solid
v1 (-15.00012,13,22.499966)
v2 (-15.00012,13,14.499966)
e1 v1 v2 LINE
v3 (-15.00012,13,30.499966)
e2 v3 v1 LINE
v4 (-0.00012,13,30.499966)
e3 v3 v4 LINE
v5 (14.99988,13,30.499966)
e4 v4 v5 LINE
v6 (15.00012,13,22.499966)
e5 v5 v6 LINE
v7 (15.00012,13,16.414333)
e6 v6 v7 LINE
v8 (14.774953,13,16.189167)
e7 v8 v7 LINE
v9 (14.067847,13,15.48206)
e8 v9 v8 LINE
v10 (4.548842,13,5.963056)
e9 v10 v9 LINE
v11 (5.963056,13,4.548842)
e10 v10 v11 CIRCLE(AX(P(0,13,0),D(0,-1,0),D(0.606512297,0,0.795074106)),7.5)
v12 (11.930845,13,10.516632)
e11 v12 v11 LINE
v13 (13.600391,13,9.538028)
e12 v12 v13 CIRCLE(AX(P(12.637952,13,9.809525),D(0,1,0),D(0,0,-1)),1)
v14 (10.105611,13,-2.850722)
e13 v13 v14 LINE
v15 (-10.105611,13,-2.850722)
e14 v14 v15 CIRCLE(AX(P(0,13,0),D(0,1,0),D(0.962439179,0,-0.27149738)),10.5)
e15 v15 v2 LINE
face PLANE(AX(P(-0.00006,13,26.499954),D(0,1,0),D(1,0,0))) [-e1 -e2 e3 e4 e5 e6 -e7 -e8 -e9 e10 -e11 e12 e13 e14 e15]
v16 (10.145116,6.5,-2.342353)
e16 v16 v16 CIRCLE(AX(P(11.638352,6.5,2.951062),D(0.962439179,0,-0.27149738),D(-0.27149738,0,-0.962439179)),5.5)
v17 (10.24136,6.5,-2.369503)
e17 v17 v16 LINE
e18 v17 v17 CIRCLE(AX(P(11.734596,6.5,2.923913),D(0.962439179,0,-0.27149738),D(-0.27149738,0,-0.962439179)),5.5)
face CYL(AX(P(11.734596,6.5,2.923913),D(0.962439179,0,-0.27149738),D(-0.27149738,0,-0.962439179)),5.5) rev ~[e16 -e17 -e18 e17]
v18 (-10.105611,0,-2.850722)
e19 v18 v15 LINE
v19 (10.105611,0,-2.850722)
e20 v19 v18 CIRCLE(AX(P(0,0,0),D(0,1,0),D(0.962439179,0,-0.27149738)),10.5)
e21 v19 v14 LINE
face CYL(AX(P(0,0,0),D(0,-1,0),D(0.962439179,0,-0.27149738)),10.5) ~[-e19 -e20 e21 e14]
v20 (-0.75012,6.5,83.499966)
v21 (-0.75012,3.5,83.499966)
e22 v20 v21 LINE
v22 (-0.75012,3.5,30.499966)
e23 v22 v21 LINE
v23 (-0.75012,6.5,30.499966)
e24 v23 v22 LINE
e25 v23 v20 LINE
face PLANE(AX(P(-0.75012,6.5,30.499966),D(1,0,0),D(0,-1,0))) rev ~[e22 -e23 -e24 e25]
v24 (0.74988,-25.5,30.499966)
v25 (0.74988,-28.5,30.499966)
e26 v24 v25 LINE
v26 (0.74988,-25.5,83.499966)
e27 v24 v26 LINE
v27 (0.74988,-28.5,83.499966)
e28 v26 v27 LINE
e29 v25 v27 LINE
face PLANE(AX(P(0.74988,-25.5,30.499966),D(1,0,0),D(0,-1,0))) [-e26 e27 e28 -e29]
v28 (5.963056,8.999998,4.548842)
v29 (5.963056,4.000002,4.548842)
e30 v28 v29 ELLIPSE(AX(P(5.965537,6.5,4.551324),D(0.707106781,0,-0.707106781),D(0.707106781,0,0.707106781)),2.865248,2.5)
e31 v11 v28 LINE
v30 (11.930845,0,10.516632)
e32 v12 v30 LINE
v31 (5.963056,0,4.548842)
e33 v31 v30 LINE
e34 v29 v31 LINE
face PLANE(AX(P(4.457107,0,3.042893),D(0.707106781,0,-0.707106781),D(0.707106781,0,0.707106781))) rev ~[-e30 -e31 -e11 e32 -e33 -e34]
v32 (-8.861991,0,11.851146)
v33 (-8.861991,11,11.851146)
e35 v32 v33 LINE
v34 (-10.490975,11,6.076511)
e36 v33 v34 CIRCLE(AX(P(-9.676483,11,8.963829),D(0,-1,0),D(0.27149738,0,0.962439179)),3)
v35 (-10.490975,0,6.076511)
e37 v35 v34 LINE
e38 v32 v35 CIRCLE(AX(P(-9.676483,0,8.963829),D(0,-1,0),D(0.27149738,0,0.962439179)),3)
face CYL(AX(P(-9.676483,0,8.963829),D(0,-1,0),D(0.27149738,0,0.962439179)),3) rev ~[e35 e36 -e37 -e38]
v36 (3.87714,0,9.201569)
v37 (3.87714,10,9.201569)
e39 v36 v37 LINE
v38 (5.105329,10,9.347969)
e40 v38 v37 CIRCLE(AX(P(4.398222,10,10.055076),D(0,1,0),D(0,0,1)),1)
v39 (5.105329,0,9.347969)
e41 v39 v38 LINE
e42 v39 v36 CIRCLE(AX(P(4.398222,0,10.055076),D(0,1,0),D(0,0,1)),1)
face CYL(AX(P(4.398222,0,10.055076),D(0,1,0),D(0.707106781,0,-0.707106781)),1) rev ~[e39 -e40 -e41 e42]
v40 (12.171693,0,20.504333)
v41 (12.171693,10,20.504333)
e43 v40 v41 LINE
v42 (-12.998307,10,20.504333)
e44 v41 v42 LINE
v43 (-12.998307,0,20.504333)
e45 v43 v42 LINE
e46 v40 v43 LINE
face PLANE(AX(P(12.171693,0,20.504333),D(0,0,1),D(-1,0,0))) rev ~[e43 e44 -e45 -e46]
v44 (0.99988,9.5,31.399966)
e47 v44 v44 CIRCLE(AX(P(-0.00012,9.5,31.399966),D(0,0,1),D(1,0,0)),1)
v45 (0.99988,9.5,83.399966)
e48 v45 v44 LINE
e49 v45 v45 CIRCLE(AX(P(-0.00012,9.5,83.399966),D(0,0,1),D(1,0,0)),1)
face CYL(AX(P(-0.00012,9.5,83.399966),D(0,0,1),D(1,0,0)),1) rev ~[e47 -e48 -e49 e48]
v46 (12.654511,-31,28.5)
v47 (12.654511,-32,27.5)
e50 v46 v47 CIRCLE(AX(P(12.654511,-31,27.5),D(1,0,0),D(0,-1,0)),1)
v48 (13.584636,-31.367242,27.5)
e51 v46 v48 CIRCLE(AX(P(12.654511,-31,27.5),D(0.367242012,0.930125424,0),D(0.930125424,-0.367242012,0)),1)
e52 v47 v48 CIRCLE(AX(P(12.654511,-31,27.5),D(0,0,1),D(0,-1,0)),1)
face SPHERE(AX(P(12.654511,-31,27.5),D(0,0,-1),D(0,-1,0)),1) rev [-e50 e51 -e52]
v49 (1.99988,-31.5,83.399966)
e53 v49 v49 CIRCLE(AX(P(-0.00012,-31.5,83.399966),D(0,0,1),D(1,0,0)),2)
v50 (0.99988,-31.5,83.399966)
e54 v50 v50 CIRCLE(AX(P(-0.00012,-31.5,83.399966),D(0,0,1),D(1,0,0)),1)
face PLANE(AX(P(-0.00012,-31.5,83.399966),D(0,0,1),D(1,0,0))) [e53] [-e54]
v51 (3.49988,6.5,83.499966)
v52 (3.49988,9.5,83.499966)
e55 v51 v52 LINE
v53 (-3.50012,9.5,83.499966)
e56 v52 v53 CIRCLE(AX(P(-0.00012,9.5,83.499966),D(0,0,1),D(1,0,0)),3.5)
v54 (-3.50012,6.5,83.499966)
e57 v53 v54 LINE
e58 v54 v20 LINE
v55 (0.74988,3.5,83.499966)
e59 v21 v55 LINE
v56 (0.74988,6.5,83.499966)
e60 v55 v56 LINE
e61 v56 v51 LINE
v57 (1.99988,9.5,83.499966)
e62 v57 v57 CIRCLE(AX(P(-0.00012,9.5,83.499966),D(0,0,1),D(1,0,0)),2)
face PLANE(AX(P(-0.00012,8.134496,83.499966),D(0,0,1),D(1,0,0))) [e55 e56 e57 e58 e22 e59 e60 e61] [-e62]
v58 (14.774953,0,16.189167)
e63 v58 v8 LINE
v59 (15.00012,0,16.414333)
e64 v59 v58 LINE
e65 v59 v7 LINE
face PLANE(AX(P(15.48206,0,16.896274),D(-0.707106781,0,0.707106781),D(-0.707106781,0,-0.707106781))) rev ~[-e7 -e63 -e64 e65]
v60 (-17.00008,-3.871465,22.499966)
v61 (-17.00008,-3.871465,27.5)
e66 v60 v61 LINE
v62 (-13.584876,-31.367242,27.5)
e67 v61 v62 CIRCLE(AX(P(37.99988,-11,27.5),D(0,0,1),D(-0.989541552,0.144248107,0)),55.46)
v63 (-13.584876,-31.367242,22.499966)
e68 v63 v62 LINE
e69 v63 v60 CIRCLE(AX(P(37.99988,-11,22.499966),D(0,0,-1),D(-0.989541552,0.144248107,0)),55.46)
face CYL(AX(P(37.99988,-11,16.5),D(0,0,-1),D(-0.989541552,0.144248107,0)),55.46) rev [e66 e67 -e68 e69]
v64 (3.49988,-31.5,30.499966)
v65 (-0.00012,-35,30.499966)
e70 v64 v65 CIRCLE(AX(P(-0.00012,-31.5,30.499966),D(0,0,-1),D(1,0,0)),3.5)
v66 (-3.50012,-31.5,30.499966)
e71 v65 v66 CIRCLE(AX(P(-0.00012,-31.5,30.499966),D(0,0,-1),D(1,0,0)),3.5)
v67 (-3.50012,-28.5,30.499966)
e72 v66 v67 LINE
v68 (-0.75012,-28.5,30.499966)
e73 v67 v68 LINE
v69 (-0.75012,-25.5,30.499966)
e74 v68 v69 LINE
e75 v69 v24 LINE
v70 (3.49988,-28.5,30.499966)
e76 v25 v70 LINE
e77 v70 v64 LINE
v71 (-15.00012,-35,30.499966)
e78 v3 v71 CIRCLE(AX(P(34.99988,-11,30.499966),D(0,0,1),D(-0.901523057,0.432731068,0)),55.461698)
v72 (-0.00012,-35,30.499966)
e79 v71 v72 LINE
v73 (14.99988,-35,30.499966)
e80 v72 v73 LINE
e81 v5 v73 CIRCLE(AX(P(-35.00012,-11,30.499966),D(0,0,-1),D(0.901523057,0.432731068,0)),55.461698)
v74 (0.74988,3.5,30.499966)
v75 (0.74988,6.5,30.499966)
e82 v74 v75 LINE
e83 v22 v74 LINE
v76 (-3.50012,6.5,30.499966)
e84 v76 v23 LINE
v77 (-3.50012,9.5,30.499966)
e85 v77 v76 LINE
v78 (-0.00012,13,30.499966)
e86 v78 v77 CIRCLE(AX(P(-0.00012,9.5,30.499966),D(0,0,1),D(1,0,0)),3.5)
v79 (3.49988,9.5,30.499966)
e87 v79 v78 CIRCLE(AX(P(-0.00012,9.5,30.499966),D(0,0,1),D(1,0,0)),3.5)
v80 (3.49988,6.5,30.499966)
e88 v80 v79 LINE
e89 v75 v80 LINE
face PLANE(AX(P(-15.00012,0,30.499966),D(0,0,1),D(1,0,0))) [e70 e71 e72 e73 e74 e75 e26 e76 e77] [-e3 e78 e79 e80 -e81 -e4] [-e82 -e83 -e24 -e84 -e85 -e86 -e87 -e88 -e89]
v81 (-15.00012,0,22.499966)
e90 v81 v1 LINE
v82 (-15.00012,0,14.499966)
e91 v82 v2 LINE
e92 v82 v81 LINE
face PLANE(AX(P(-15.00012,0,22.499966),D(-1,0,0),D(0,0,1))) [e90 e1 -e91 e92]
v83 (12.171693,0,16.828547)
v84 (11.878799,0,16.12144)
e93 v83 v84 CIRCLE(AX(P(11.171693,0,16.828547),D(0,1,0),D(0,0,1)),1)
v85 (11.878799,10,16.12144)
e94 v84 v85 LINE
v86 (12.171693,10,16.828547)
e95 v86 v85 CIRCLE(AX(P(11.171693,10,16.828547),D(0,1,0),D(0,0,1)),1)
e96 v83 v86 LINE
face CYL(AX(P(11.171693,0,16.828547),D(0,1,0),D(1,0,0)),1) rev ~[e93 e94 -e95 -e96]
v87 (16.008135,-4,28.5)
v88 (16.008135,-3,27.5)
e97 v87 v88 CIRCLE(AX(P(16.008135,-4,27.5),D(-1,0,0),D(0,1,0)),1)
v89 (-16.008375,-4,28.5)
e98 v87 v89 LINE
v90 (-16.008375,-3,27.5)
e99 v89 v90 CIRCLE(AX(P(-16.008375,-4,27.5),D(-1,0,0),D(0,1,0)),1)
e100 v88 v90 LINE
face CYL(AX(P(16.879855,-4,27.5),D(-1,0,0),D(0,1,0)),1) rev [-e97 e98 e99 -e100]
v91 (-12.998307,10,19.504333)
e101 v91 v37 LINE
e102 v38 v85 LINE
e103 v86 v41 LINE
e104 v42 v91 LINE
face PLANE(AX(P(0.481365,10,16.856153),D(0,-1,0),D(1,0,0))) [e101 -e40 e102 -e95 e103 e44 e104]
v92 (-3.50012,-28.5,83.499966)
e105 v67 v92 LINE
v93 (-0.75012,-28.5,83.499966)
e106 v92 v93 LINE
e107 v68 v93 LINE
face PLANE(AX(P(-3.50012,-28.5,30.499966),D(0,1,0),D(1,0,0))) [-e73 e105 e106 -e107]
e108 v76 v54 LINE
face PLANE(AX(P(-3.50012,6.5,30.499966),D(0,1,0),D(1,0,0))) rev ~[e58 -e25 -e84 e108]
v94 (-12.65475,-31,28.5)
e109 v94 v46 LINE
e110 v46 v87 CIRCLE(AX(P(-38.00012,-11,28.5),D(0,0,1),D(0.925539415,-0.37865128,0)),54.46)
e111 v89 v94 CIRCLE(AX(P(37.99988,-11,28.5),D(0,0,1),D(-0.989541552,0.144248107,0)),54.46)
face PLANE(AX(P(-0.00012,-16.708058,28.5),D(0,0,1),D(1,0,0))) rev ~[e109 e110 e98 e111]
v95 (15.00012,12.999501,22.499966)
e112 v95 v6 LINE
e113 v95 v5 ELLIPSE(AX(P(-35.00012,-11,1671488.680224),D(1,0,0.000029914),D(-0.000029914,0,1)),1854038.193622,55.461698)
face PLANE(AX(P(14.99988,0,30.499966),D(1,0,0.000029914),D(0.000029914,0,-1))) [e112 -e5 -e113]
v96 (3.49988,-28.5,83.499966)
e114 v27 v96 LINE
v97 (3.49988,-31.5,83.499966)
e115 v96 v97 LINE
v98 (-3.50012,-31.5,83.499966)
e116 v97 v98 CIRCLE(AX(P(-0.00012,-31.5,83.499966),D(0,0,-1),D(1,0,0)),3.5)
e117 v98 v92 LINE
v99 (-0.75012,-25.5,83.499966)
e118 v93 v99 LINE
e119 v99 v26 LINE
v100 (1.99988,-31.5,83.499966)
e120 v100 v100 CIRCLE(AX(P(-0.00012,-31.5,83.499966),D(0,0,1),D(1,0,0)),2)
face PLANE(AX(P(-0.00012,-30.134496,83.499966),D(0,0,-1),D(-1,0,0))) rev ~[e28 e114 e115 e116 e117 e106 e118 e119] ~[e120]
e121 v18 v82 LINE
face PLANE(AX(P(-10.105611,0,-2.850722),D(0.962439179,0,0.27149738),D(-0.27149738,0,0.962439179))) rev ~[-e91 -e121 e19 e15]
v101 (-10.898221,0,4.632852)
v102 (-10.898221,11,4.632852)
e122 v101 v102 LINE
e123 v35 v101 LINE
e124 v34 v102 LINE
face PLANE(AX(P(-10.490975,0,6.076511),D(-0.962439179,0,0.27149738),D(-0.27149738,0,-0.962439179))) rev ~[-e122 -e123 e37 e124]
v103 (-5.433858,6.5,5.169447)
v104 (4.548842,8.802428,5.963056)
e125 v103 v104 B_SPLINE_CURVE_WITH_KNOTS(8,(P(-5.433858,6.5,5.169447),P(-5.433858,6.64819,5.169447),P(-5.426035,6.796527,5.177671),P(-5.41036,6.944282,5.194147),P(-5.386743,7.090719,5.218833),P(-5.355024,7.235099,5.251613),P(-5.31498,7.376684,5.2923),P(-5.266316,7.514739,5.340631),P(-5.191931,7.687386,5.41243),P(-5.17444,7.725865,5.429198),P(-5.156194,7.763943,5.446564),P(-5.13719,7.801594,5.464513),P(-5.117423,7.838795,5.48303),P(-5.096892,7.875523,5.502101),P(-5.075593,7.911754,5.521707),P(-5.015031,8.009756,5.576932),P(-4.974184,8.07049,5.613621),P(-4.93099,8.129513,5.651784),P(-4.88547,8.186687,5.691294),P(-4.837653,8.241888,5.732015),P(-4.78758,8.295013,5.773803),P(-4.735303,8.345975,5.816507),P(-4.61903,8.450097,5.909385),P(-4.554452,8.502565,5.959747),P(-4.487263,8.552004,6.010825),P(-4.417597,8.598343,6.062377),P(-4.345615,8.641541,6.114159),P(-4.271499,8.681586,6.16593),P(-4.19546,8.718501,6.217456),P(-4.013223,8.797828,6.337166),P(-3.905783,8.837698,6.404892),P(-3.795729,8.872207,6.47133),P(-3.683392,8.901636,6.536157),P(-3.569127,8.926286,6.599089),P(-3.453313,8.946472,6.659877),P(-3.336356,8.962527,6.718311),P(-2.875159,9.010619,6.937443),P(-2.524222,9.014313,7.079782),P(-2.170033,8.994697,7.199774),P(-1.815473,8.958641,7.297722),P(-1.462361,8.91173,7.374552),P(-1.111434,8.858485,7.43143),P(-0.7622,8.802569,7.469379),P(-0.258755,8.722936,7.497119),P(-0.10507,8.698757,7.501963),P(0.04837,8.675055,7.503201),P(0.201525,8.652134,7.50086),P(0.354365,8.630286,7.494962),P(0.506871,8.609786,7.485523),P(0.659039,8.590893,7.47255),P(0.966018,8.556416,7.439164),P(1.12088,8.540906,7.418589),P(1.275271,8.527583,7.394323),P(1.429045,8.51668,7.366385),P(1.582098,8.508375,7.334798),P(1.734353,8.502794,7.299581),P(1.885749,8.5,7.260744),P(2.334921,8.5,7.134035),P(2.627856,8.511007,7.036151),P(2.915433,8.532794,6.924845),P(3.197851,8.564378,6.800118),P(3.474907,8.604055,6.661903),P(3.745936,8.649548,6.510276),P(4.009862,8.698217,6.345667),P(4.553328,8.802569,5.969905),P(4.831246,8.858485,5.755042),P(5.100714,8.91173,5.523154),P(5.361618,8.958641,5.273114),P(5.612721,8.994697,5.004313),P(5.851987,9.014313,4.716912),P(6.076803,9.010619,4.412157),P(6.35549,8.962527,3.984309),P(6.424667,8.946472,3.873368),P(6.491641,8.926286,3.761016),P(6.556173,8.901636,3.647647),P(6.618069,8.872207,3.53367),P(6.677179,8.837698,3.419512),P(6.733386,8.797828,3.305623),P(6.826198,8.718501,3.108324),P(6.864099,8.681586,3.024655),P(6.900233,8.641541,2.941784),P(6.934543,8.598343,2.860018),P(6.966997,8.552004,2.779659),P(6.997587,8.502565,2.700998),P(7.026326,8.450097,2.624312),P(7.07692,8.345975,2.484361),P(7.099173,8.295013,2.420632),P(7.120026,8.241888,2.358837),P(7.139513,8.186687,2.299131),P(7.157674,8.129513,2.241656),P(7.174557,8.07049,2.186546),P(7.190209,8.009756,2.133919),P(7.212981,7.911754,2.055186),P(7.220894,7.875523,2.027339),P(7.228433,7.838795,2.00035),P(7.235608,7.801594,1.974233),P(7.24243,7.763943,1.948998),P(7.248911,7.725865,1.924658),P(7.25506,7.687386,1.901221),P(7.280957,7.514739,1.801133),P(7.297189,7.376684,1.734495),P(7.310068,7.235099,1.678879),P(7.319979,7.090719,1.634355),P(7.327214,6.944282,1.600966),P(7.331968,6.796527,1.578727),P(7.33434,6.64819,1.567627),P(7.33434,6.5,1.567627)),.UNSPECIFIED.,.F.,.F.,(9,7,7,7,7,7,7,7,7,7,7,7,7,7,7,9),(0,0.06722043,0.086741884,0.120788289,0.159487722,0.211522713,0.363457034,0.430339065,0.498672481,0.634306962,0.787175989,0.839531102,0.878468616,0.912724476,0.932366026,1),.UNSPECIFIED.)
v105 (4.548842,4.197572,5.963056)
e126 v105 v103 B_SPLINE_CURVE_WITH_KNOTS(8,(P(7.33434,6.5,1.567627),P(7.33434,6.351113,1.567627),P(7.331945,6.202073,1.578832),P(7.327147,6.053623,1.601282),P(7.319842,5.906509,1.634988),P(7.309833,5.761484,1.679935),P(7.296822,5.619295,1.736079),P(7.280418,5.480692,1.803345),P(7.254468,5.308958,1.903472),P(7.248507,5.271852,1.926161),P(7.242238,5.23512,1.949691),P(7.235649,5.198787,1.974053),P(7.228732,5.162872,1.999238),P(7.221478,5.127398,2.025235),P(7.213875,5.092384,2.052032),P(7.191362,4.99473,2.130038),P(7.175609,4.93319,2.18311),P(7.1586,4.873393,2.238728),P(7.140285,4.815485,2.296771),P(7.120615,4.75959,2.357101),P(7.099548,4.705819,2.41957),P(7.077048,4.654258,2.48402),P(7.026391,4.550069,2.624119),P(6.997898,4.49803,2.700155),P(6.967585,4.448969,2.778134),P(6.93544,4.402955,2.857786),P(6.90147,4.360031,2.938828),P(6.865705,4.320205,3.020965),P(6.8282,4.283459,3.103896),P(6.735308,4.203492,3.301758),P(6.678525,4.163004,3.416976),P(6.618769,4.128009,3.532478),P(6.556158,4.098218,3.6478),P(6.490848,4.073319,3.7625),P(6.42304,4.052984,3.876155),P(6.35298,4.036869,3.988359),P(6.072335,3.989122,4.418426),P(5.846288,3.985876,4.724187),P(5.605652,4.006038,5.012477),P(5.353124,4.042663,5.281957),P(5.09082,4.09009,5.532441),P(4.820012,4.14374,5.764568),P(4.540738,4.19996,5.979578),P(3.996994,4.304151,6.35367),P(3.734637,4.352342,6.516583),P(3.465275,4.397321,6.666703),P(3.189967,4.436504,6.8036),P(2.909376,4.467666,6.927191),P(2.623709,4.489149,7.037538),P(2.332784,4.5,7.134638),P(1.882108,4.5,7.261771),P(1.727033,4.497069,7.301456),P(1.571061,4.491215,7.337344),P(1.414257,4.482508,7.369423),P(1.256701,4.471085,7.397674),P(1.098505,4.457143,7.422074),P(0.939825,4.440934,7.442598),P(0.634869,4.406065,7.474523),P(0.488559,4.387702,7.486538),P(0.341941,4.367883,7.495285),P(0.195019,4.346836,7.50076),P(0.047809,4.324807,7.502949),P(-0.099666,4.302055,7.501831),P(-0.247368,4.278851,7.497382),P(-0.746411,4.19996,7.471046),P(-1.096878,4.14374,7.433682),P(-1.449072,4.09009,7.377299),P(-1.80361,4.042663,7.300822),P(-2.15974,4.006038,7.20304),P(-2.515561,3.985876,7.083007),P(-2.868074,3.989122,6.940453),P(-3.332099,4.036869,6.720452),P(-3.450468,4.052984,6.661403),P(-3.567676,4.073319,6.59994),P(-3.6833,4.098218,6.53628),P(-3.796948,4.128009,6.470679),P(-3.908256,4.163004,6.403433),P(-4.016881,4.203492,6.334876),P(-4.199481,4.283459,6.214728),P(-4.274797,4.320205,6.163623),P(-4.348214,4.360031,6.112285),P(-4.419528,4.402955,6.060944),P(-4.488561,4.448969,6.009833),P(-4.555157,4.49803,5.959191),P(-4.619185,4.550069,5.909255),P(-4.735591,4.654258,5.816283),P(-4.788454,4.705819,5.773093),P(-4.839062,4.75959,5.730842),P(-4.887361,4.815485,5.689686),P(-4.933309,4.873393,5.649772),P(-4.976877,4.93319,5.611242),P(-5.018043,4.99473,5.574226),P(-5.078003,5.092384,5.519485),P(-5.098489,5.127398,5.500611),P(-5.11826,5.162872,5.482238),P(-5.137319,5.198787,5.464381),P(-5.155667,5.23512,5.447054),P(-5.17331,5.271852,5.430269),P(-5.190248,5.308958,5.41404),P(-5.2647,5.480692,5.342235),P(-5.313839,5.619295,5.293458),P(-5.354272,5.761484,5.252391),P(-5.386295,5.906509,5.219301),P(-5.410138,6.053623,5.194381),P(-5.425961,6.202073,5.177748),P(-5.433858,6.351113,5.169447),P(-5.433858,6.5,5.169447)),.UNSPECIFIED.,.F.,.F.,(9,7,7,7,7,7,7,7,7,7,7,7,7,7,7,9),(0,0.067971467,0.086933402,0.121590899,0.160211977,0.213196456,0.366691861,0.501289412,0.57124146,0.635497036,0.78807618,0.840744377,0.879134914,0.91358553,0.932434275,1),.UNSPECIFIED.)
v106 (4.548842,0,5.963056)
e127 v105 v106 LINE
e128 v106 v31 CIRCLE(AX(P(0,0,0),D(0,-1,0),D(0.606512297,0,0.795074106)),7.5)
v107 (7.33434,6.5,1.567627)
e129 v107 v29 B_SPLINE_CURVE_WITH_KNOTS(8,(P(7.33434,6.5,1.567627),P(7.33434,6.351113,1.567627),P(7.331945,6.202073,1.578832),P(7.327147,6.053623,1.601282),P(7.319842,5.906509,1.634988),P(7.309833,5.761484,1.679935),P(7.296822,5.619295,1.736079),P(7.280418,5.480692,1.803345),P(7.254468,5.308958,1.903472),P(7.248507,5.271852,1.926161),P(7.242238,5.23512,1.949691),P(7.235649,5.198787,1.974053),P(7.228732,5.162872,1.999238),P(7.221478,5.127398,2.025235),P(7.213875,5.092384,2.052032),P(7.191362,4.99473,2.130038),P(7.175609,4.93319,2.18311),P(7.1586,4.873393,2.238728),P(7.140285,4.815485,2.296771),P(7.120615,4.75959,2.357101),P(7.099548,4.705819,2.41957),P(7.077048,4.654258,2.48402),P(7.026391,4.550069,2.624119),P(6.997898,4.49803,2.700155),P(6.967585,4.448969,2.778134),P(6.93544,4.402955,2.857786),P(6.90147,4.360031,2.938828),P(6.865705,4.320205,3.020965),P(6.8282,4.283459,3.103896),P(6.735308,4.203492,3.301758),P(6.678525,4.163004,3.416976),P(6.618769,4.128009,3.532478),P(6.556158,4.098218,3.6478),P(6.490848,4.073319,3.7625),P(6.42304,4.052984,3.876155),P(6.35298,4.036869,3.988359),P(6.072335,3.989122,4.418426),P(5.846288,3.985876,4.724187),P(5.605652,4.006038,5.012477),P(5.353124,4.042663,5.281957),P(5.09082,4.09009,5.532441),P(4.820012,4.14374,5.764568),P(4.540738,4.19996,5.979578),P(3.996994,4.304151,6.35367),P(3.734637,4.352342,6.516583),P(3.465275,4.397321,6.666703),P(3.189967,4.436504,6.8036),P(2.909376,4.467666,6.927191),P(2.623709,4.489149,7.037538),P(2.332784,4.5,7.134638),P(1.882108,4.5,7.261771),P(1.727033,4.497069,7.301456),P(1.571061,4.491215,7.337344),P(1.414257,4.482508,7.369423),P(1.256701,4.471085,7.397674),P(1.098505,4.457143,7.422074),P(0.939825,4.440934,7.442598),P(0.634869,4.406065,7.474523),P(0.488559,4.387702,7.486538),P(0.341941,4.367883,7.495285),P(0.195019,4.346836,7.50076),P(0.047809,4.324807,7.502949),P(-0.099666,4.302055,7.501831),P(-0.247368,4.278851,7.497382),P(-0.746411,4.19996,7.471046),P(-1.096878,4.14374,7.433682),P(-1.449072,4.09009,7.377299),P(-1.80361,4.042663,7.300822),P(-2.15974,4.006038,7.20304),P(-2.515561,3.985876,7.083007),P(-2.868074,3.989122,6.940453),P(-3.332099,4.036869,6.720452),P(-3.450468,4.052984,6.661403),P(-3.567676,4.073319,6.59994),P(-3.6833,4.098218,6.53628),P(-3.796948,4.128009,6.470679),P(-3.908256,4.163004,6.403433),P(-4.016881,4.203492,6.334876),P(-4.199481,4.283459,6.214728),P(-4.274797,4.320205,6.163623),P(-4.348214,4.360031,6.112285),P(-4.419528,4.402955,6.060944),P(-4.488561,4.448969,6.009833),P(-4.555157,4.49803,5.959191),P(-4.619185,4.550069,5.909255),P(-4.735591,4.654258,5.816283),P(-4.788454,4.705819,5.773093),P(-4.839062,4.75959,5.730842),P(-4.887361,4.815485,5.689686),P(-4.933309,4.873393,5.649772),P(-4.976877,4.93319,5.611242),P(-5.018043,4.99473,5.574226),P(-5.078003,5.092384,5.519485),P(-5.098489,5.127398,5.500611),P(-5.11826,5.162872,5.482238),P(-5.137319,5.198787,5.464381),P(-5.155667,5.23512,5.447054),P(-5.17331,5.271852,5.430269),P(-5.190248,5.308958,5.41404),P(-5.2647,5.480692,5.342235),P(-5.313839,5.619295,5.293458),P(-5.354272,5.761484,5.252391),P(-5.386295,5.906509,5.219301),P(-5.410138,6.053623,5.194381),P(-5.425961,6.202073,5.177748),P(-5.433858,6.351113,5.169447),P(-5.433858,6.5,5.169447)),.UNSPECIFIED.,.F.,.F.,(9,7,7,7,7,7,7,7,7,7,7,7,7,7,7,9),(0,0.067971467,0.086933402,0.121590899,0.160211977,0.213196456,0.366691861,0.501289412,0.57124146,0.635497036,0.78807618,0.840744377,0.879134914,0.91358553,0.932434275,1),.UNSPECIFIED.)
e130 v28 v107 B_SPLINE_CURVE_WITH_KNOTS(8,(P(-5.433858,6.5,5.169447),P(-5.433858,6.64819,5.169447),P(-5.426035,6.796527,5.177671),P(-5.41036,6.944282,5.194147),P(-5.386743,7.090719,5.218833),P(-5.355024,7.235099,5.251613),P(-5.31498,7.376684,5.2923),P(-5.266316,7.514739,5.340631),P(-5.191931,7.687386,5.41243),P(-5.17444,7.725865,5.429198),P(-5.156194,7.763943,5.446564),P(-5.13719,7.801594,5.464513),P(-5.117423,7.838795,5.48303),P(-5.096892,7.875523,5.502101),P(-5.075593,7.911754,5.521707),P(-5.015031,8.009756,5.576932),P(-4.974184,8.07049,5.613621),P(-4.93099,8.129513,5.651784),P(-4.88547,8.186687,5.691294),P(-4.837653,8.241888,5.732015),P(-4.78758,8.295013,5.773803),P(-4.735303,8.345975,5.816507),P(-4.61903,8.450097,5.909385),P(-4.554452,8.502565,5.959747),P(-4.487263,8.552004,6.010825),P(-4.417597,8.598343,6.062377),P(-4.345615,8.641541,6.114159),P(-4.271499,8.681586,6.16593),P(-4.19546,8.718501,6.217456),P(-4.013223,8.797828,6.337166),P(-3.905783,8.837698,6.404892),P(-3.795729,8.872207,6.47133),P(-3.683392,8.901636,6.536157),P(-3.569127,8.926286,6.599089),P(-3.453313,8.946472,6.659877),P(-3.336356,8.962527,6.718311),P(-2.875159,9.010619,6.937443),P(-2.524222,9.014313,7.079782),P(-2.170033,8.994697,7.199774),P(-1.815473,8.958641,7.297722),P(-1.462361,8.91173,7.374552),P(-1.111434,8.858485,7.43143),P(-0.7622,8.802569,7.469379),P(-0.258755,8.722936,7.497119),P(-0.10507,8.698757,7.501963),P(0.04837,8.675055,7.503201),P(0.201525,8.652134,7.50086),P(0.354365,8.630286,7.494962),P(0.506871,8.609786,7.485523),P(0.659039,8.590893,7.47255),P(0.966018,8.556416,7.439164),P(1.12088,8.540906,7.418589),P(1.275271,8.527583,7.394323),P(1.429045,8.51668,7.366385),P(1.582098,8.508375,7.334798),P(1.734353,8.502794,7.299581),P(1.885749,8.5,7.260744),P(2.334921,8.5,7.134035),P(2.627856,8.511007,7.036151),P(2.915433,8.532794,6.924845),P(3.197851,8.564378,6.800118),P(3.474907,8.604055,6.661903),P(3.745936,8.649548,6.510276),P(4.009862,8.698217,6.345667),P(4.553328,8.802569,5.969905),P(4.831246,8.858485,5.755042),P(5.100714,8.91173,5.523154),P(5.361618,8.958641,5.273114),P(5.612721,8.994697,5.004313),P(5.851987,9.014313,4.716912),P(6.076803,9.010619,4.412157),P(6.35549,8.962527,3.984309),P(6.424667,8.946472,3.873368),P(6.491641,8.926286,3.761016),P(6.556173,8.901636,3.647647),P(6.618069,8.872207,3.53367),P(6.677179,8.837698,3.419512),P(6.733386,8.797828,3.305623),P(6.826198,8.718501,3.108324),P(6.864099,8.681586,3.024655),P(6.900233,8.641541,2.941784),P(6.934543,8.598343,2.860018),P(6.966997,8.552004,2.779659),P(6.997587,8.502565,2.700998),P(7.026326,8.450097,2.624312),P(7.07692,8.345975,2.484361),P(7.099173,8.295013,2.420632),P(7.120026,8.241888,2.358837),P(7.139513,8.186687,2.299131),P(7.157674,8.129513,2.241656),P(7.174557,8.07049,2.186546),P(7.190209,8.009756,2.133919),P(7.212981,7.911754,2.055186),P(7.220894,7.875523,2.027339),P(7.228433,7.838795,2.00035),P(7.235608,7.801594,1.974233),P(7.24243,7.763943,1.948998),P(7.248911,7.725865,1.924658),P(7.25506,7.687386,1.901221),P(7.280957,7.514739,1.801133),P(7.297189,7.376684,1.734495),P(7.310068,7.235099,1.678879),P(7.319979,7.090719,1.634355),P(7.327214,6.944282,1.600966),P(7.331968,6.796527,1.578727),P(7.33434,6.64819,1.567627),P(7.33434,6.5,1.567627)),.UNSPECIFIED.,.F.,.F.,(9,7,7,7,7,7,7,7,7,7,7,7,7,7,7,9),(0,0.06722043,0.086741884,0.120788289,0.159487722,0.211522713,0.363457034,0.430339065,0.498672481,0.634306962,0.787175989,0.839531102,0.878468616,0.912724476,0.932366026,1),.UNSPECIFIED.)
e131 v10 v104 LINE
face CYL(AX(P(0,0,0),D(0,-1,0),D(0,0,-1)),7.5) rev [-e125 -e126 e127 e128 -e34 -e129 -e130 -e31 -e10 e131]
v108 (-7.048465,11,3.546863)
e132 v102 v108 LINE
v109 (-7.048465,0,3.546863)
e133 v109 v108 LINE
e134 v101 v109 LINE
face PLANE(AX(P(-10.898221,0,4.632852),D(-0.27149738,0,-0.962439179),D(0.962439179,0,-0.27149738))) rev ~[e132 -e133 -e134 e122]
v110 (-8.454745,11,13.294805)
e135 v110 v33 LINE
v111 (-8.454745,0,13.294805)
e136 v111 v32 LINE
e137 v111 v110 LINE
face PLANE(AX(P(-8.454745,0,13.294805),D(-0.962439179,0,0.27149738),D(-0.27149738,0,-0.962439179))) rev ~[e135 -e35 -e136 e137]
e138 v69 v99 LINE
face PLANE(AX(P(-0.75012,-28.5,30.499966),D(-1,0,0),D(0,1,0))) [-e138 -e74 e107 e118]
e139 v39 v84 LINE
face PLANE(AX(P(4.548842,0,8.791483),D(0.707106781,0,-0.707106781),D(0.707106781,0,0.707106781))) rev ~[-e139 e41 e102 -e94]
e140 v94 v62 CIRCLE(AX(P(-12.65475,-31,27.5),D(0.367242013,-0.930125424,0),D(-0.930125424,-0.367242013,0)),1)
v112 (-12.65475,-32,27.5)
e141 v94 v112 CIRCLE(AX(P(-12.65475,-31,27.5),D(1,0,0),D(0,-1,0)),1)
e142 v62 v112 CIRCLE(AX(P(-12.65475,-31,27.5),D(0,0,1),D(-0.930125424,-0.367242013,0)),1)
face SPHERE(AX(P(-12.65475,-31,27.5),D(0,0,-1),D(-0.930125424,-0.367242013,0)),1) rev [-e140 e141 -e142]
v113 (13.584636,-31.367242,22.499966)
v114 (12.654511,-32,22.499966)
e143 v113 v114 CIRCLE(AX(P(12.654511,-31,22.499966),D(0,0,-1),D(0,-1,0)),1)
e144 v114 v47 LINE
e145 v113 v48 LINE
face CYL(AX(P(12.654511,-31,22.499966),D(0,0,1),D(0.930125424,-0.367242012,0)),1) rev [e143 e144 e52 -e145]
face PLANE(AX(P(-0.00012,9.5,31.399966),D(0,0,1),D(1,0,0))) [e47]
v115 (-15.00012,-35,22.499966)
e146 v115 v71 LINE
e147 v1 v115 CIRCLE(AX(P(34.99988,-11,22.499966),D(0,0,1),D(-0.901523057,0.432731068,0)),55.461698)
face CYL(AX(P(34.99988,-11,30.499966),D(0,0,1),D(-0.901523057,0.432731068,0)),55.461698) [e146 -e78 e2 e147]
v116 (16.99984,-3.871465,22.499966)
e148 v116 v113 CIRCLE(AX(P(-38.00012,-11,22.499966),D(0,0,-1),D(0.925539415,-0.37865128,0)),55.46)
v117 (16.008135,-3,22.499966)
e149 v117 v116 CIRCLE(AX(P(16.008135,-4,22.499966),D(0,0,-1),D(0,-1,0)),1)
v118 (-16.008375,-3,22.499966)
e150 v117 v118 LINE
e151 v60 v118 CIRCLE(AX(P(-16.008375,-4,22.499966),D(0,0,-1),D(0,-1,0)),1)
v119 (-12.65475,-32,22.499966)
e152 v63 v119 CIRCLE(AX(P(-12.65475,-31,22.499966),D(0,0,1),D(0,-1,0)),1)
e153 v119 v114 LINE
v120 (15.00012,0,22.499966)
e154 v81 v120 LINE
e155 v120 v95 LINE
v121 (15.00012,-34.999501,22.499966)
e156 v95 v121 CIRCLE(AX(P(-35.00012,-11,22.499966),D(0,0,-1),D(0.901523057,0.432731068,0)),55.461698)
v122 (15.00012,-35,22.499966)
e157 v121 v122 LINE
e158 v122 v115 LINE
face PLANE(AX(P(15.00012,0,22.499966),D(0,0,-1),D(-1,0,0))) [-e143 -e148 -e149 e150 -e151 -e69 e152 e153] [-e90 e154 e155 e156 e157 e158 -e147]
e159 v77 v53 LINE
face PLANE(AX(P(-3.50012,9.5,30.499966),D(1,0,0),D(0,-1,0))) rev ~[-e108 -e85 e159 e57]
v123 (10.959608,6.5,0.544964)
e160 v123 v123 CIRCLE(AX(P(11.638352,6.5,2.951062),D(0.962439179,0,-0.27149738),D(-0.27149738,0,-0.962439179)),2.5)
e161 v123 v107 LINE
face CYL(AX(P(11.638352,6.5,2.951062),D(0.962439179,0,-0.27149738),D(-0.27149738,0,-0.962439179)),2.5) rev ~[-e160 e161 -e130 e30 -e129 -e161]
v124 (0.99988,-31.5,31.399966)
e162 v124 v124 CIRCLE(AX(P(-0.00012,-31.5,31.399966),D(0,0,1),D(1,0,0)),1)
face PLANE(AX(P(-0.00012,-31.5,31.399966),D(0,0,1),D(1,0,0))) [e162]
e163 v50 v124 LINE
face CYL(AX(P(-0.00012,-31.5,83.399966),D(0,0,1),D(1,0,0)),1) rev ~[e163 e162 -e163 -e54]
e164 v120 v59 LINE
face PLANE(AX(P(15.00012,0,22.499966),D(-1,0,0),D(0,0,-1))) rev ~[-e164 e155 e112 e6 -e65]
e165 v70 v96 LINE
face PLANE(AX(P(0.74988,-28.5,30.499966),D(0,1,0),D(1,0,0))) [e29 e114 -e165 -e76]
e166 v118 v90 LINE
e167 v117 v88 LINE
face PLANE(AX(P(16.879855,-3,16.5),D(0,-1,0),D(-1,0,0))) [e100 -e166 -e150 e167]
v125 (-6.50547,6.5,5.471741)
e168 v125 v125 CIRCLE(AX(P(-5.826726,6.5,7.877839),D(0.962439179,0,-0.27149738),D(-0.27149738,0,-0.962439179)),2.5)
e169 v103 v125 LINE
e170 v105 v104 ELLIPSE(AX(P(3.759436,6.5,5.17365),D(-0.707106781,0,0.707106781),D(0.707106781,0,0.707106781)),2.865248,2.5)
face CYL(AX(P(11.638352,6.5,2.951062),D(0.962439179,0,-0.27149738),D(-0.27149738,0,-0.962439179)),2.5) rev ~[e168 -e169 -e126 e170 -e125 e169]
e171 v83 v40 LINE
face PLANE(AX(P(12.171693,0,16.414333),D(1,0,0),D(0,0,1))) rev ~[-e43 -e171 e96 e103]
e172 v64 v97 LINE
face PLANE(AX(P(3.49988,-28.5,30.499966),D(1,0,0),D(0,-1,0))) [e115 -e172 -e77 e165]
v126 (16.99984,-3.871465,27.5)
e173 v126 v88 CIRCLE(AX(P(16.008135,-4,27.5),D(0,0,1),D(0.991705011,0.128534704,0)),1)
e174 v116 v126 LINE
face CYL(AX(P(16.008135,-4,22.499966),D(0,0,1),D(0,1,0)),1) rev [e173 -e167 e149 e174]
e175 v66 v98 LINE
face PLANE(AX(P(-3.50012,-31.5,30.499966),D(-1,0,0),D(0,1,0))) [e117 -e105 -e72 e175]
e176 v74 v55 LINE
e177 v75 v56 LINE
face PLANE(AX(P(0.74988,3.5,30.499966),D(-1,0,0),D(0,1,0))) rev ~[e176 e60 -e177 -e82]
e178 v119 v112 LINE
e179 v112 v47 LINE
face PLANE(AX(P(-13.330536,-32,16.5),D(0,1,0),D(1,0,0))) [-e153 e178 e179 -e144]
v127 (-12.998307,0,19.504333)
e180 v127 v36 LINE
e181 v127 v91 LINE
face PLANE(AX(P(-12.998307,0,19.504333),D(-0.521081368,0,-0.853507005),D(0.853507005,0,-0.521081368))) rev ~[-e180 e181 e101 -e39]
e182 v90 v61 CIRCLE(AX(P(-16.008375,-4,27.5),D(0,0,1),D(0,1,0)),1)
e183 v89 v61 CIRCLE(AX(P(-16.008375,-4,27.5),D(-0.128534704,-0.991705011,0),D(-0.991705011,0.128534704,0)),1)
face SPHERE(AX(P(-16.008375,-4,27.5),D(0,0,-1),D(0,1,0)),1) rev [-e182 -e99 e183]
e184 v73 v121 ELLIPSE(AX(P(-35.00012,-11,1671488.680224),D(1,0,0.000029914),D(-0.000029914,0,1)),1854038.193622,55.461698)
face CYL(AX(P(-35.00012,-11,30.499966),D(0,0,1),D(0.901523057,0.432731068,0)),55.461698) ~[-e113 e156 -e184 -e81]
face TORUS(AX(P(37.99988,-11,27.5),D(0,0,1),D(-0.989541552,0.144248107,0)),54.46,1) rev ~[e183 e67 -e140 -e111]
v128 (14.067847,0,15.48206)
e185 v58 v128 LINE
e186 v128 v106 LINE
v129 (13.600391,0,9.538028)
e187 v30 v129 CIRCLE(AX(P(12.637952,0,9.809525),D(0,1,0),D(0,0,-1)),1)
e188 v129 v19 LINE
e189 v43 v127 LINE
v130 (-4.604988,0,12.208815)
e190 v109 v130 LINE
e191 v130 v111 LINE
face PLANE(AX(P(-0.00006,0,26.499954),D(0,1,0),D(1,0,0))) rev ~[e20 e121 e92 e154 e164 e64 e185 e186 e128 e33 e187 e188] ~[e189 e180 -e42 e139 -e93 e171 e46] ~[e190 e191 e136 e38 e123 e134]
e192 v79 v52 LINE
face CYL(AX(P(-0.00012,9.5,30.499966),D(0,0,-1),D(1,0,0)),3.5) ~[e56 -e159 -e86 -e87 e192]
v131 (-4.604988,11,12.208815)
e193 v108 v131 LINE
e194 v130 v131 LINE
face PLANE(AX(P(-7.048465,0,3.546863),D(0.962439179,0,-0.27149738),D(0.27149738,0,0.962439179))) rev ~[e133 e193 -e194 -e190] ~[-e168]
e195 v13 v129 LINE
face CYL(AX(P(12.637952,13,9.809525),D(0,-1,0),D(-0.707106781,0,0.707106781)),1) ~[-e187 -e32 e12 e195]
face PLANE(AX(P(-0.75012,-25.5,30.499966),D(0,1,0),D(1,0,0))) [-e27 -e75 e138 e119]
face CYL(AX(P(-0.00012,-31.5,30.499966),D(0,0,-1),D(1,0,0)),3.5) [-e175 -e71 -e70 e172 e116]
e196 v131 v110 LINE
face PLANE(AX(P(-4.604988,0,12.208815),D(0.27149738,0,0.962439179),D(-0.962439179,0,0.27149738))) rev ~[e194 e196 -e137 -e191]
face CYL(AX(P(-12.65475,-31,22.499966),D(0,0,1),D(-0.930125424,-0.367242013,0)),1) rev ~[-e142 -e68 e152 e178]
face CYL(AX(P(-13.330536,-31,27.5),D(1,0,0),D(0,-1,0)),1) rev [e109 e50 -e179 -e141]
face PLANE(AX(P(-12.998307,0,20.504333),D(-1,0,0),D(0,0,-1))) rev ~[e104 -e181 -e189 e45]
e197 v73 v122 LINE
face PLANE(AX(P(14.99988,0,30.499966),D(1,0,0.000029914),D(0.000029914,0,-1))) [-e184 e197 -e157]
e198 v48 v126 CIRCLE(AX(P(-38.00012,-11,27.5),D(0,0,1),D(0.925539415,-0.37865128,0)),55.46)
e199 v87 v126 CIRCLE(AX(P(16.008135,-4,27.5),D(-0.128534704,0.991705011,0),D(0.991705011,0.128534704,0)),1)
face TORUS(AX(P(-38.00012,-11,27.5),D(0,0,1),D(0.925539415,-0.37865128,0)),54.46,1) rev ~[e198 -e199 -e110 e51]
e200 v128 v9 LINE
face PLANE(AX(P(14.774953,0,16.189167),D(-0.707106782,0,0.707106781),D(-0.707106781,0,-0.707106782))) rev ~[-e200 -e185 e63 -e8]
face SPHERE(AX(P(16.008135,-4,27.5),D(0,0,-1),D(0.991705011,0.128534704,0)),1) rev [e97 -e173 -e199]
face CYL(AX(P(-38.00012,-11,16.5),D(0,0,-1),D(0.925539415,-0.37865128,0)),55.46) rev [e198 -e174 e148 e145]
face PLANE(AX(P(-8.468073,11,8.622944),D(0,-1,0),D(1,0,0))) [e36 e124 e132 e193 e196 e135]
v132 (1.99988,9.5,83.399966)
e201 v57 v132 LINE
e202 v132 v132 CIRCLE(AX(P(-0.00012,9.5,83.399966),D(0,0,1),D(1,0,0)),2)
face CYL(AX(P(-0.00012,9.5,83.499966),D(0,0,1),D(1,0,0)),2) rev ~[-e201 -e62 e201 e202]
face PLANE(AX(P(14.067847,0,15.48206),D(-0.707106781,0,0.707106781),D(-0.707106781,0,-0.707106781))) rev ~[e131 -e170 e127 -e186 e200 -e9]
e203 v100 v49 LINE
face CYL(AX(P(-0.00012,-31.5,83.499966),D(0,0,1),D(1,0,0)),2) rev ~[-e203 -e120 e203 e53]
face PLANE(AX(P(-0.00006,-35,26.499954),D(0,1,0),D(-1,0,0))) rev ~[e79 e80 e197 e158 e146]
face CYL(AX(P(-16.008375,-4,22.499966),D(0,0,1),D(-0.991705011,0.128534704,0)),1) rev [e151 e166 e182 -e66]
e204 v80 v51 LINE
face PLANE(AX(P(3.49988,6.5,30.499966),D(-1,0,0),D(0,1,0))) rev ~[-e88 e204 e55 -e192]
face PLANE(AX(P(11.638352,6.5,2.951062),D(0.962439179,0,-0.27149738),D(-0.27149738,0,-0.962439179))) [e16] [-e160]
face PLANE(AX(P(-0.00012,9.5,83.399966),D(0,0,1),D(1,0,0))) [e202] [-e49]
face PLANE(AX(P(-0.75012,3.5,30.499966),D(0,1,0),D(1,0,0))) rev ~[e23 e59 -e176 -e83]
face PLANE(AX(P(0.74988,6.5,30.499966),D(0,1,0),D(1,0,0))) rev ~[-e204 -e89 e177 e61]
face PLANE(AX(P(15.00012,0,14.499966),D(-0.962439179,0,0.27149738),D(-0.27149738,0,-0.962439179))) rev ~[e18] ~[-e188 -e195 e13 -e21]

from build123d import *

# Parameters (mm, degrees)
SKETCH1_R               = 7.5
BOSS_EXTRUDE1_DEPTH     = 13
BOSS_EXTRUDE2_DEPTH     = 13
BOSS_EXTRUDE3_DEPTH     = 35
BOSS_EXTRUDE4_DEPTH     = 8
CUT_EXTRUDE3_DEPTH      = 6
CUT_EXTRUDE3_DEPTH_BACK = 6
BOSS_EXTRUDE5_DEPTH     = 53
SKETCH11_R              = 2
CUT_EXTRUDE4_DEPTH      = 0.1
SKETCH12_R              = 1
CUT_EXTRUDE5_DEPTH      = 52
SKETCH16_R              = 5.5
CUT_EXTRUDE8_DEPTH      = 0.1
SKETCH17_R              = 2.5
CUT_EXTRUDE9_DEPTH      = 20.1
CUT_EXTRUDE10_DEPTH     = 11
CUT_EXTRUDE11_DEPTH     = 25
CUT_EXTRUDE12_DEPTH     = 10
FILLET1_R               = 1


with BuildPart() as part:
    # Sketch1 → Boss-Extrude1 (new body)
    with BuildSketch(Plane(origin=(0, 0, 0), x_dir=(1, 0, 0), z_dir=(0, 1, 0))):
        with BuildLine():
            Line((-15.000119656, -22.499966246), (15.000119656, -22.499966246))
            Line((15.000119656, -22.499966246), (15.000119656, -14.499966246))
            Line((15.000119656, -14.499966246), (10.105611377, 2.850722488))
            ThreePointArc((10.105611377, 2.850722488), (0, 10.5), (-10.105611377, 2.850722488))
            Line((-10.105611377, 2.850722488), (-15.000119656, -14.499966246))
            Line((-15.000119656, -14.499966246), (-15.000119656, -22.499966246))
        make_face()
        with Locations(Location((0, 0, 0), (0, 0, 90))):
            Circle(SKETCH1_R, mode=Mode.SUBTRACT)
    extrude(amount=BOSS_EXTRUDE1_DEPTH)

    # Sketch2 → Boss-Extrude2 (add)
    with BuildSketch(Plane(origin=(0, 0, 0), x_dir=(1, 0, 0), z_dir=(0, 1, 0))):
        Polygon((-15.000119656, -22.499966246), (-15.000119656, -30.499966246), (14.999880344, -30.499966246), (15.000119656, -22.499966246), align=None)
    extrude(amount=BOSS_EXTRUDE2_DEPTH)

    # Sketch3 → Boss-Extrude3 (add)
    with BuildSketch(Plane.XZ):
        Polygon((-15.000119656, 30.499966246), (14.999880344, 30.499966246), (15.000119656, 22.499966246), (-15.000119656, 22.499966246), align=None)
    extrude(amount=BOSS_EXTRUDE3_DEPTH)

    # Sketch4 → Boss-Extrude4 (add)
    with BuildSketch(Plane.XY.offset(30.499966246)):
        with BuildLine():
            Line((14.999880344, -35), (14.999880344, 13))
            ThreePointArc((14.999880344, 13), (20.461578839, -11), (14.999880344, -35))
        make_face()
        with BuildLine():
            Line((-15.000119656, -35), (-15.000119656, 13))
            ThreePointArc((-15.000119656, 13), (-20.461818151, -11), (-15.000119656, -35))
        make_face()
    extrude(amount=-BOSS_EXTRUDE4_DEPTH)

    # Sketch9 → Cut-Extrude3 (cut, two sides: drawn at the far end of the back side and taken through both)
    with BuildSketch(Plane.XY.offset(22.5).offset(-CUT_EXTRUDE3_DEPTH_BACK)):
        with BuildLine():
            Line((-13.33053559, -32), (11.997996308, -32))
            Line((11.997996308, -32), (13.330296278, -32))
            ThreePointArc((13.330296278, -32), (17.049056164, -17.737940448), (16.879854834, -3))
            Line((16.879854834, -3), (15, -3))
            Line((15, -3), (-16.880094146, -3))
            ThreePointArc((-16.880094146, -3), (-17.049295477, -17.737940448), (-13.33053559, -32))
        make_face()
    extrude(amount=CUT_EXTRUDE3_DEPTH + CUT_EXTRUDE3_DEPTH_BACK, mode=Mode.SUBTRACT)

    # Sketch10 → Boss-Extrude5 (add)
    with BuildSketch(Plane.XY.offset(30.499966246)):
        with BuildLine():
            Line((-3.500119656, -28.5), (-0.750119656, -28.5))
            Line((-0.750119656, -28.5), (-0.750119656, -25.5))
            Line((-0.750119656, -25.5), (-0.000119656, -25.5))
            Line((-0.000119656, -25.5), (0.749880344, -25.5))
            Line((0.749880344, -25.5), (0.749880344, -28.5))
            Line((0.749880344, -28.5), (3.499880344, -28.5))
            Line((3.499880344, -28.5), (3.499880344, -31.5))
            ThreePointArc((3.499880344, -31.5), (-0.000119656, -35), (-3.500119656, -31.5))
            Line((-3.500119656, -31.5), (-3.500119656, -28.5))
        make_face()
        with BuildLine():
            Line((0.749880344, 6.5), (3.499880344, 6.5))
            Line((3.499880344, 6.5), (3.499880344, 9.5))
            ThreePointArc((3.499880344, 9.5), (-0.000119656, 13), (-3.500119656, 9.5))
            Line((-3.500119656, 9.5), (-3.500119656, 6.5))
            Line((-3.500119656, 6.5), (-0.750119656, 6.5))
            Line((-0.750119656, 6.5), (-0.750119656, 3.5))
            Line((-0.750119656, 3.5), (-0.000119656, 3.5))
            Line((-0.000119656, 3.5), (0.749880344, 3.5))
            Line((0.749880344, 3.5), (0.749880344, 6.5))
        make_face()
    extrude(amount=BOSS_EXTRUDE5_DEPTH)

    # Sketch11 → Cut-Extrude4 (cut)
    with BuildSketch(Plane.XY.offset(83.499966246)):
        with Locations((-0.000119656, -31.5)):
            Circle(SKETCH11_R)
        with Locations((-0.000119656, 9.5)):
            Circle(SKETCH11_R)
    extrude(amount=-CUT_EXTRUDE4_DEPTH, mode=Mode.SUBTRACT)

    # Sketch12 → Cut-Extrude5 (cut)
    with BuildSketch(Plane.XY.offset(83.399966246)):
        with Locations((-0.000119656, -31.5)):
            Circle(SKETCH12_R)
        with Locations((-0.000119656, 9.5)):
            Circle(SKETCH12_R)
    extrude(amount=-CUT_EXTRUDE5_DEPTH, mode=Mode.SUBTRACT)

    # Sketch16 → Cut-Extrude8 (cut)
    with BuildSketch(Plane(origin=(10.105611377, 0, -2.850722488), x_dir=(-0.27149737978458055, 0, -0.9624391787381202), z_dir=(0.9624391787381201, 0, -0.2714973797845805))):
        with Locations((-6, 6.5)):
            Circle(SKETCH16_R)
    extrude(amount=-CUT_EXTRUDE8_DEPTH, mode=Mode.SUBTRACT)

    # Sketch17 → Cut-Extrude9 (cut)
    with BuildSketch(Plane(origin=(10.009367459, 0, -2.82357275), x_dir=(-0.2714973797845806, 0, -0.9624391787381202), z_dir=(0.9624391787381201, 0, -0.27149737978458055))):
        with Locations((-6, 6.5)):
            Circle(SKETCH17_R)
    extrude(amount=-CUT_EXTRUDE9_DEPTH, mode=Mode.SUBTRACT)

    # Sketch18 → Cut-Extrude10 (cut)
    with BuildSketch(Plane.XZ):
        with BuildLine():
            Line((-8.45474492, 13.294804883), (-8.86199099, 11.851146114))
            ThreePointArc((-8.86199099, 11.851146114), (-12.563800666, 9.778320718), (-10.490975269, 6.076511042))
            Line((-10.490975269, 6.076511042), (-10.898221339, 4.632852274))
            Line((-10.898221339, 4.632852274), (-7.048464624, 3.546862755))
            Line((-7.048464624, 3.546862755), (-4.604988206, 12.208815363))
            Line((-4.604988206, 12.208815363), (-8.45474492, 13.294804883))
        make_face()
    extrude(amount=-CUT_EXTRUDE10_DEPTH, mode=Mode.SUBTRACT)

    # Sketch19 → Cut-Extrude11 (cut)
    with BuildSketch(Plane.XZ):
        Polygon((16.189167047, 14.774953484), (16.896273828, 15.482060265), (15.482060265, 16.896273828), (14.774953484, 16.189167047), (14.067846703, 15.482060265), (3.042893219, 4.457106781), (4.457106781, 3.042893219), (15.482060265, 14.067846703), align=None)
    extrude(amount=-CUT_EXTRUDE11_DEPTH, mode=Mode.SUBTRACT)

    # Sketch20 → Cut-Extrude12 (cut)
    with BuildSketch(Plane.XZ):
        Polygon((-12.998307469, 20.504333218), (-12.998307469, 19.504333218), (4.548842229, 8.791482916), (12.171692531, 16.414333218), (12.171692531, 20.504333218), align=None)
    extrude(amount=-CUT_EXTRUDE12_DEPTH, mode=Mode.SUBTRACT)

    # Fillet1
    fillet1_edges = [part.edges().sort_by_distance(p)[0] for p in [
        (14.640950567, 6.5, 13.226737005),
        (12.171692531, 5, 16.414333218),
        (4.548842229, 5, 8.791482916),
        (-13.33053559, -32, 25.499983123),
        (-17.049295477, -17.737940448, 28.5),
        (-16.880094146, -3, 25.499983123),
        (-0.000119656, -3, 28.5),
        (16.879854834, -3, 25.499983123),
        (13.330296278, -32, 25.499983123),
        (-0.000119656, -32, 28.5),
        (17.049056164, -17.737940448, 28.5),
    ]]
    fillet(fillet1_edges, radius=FILLET1_R)


solid = part.part
